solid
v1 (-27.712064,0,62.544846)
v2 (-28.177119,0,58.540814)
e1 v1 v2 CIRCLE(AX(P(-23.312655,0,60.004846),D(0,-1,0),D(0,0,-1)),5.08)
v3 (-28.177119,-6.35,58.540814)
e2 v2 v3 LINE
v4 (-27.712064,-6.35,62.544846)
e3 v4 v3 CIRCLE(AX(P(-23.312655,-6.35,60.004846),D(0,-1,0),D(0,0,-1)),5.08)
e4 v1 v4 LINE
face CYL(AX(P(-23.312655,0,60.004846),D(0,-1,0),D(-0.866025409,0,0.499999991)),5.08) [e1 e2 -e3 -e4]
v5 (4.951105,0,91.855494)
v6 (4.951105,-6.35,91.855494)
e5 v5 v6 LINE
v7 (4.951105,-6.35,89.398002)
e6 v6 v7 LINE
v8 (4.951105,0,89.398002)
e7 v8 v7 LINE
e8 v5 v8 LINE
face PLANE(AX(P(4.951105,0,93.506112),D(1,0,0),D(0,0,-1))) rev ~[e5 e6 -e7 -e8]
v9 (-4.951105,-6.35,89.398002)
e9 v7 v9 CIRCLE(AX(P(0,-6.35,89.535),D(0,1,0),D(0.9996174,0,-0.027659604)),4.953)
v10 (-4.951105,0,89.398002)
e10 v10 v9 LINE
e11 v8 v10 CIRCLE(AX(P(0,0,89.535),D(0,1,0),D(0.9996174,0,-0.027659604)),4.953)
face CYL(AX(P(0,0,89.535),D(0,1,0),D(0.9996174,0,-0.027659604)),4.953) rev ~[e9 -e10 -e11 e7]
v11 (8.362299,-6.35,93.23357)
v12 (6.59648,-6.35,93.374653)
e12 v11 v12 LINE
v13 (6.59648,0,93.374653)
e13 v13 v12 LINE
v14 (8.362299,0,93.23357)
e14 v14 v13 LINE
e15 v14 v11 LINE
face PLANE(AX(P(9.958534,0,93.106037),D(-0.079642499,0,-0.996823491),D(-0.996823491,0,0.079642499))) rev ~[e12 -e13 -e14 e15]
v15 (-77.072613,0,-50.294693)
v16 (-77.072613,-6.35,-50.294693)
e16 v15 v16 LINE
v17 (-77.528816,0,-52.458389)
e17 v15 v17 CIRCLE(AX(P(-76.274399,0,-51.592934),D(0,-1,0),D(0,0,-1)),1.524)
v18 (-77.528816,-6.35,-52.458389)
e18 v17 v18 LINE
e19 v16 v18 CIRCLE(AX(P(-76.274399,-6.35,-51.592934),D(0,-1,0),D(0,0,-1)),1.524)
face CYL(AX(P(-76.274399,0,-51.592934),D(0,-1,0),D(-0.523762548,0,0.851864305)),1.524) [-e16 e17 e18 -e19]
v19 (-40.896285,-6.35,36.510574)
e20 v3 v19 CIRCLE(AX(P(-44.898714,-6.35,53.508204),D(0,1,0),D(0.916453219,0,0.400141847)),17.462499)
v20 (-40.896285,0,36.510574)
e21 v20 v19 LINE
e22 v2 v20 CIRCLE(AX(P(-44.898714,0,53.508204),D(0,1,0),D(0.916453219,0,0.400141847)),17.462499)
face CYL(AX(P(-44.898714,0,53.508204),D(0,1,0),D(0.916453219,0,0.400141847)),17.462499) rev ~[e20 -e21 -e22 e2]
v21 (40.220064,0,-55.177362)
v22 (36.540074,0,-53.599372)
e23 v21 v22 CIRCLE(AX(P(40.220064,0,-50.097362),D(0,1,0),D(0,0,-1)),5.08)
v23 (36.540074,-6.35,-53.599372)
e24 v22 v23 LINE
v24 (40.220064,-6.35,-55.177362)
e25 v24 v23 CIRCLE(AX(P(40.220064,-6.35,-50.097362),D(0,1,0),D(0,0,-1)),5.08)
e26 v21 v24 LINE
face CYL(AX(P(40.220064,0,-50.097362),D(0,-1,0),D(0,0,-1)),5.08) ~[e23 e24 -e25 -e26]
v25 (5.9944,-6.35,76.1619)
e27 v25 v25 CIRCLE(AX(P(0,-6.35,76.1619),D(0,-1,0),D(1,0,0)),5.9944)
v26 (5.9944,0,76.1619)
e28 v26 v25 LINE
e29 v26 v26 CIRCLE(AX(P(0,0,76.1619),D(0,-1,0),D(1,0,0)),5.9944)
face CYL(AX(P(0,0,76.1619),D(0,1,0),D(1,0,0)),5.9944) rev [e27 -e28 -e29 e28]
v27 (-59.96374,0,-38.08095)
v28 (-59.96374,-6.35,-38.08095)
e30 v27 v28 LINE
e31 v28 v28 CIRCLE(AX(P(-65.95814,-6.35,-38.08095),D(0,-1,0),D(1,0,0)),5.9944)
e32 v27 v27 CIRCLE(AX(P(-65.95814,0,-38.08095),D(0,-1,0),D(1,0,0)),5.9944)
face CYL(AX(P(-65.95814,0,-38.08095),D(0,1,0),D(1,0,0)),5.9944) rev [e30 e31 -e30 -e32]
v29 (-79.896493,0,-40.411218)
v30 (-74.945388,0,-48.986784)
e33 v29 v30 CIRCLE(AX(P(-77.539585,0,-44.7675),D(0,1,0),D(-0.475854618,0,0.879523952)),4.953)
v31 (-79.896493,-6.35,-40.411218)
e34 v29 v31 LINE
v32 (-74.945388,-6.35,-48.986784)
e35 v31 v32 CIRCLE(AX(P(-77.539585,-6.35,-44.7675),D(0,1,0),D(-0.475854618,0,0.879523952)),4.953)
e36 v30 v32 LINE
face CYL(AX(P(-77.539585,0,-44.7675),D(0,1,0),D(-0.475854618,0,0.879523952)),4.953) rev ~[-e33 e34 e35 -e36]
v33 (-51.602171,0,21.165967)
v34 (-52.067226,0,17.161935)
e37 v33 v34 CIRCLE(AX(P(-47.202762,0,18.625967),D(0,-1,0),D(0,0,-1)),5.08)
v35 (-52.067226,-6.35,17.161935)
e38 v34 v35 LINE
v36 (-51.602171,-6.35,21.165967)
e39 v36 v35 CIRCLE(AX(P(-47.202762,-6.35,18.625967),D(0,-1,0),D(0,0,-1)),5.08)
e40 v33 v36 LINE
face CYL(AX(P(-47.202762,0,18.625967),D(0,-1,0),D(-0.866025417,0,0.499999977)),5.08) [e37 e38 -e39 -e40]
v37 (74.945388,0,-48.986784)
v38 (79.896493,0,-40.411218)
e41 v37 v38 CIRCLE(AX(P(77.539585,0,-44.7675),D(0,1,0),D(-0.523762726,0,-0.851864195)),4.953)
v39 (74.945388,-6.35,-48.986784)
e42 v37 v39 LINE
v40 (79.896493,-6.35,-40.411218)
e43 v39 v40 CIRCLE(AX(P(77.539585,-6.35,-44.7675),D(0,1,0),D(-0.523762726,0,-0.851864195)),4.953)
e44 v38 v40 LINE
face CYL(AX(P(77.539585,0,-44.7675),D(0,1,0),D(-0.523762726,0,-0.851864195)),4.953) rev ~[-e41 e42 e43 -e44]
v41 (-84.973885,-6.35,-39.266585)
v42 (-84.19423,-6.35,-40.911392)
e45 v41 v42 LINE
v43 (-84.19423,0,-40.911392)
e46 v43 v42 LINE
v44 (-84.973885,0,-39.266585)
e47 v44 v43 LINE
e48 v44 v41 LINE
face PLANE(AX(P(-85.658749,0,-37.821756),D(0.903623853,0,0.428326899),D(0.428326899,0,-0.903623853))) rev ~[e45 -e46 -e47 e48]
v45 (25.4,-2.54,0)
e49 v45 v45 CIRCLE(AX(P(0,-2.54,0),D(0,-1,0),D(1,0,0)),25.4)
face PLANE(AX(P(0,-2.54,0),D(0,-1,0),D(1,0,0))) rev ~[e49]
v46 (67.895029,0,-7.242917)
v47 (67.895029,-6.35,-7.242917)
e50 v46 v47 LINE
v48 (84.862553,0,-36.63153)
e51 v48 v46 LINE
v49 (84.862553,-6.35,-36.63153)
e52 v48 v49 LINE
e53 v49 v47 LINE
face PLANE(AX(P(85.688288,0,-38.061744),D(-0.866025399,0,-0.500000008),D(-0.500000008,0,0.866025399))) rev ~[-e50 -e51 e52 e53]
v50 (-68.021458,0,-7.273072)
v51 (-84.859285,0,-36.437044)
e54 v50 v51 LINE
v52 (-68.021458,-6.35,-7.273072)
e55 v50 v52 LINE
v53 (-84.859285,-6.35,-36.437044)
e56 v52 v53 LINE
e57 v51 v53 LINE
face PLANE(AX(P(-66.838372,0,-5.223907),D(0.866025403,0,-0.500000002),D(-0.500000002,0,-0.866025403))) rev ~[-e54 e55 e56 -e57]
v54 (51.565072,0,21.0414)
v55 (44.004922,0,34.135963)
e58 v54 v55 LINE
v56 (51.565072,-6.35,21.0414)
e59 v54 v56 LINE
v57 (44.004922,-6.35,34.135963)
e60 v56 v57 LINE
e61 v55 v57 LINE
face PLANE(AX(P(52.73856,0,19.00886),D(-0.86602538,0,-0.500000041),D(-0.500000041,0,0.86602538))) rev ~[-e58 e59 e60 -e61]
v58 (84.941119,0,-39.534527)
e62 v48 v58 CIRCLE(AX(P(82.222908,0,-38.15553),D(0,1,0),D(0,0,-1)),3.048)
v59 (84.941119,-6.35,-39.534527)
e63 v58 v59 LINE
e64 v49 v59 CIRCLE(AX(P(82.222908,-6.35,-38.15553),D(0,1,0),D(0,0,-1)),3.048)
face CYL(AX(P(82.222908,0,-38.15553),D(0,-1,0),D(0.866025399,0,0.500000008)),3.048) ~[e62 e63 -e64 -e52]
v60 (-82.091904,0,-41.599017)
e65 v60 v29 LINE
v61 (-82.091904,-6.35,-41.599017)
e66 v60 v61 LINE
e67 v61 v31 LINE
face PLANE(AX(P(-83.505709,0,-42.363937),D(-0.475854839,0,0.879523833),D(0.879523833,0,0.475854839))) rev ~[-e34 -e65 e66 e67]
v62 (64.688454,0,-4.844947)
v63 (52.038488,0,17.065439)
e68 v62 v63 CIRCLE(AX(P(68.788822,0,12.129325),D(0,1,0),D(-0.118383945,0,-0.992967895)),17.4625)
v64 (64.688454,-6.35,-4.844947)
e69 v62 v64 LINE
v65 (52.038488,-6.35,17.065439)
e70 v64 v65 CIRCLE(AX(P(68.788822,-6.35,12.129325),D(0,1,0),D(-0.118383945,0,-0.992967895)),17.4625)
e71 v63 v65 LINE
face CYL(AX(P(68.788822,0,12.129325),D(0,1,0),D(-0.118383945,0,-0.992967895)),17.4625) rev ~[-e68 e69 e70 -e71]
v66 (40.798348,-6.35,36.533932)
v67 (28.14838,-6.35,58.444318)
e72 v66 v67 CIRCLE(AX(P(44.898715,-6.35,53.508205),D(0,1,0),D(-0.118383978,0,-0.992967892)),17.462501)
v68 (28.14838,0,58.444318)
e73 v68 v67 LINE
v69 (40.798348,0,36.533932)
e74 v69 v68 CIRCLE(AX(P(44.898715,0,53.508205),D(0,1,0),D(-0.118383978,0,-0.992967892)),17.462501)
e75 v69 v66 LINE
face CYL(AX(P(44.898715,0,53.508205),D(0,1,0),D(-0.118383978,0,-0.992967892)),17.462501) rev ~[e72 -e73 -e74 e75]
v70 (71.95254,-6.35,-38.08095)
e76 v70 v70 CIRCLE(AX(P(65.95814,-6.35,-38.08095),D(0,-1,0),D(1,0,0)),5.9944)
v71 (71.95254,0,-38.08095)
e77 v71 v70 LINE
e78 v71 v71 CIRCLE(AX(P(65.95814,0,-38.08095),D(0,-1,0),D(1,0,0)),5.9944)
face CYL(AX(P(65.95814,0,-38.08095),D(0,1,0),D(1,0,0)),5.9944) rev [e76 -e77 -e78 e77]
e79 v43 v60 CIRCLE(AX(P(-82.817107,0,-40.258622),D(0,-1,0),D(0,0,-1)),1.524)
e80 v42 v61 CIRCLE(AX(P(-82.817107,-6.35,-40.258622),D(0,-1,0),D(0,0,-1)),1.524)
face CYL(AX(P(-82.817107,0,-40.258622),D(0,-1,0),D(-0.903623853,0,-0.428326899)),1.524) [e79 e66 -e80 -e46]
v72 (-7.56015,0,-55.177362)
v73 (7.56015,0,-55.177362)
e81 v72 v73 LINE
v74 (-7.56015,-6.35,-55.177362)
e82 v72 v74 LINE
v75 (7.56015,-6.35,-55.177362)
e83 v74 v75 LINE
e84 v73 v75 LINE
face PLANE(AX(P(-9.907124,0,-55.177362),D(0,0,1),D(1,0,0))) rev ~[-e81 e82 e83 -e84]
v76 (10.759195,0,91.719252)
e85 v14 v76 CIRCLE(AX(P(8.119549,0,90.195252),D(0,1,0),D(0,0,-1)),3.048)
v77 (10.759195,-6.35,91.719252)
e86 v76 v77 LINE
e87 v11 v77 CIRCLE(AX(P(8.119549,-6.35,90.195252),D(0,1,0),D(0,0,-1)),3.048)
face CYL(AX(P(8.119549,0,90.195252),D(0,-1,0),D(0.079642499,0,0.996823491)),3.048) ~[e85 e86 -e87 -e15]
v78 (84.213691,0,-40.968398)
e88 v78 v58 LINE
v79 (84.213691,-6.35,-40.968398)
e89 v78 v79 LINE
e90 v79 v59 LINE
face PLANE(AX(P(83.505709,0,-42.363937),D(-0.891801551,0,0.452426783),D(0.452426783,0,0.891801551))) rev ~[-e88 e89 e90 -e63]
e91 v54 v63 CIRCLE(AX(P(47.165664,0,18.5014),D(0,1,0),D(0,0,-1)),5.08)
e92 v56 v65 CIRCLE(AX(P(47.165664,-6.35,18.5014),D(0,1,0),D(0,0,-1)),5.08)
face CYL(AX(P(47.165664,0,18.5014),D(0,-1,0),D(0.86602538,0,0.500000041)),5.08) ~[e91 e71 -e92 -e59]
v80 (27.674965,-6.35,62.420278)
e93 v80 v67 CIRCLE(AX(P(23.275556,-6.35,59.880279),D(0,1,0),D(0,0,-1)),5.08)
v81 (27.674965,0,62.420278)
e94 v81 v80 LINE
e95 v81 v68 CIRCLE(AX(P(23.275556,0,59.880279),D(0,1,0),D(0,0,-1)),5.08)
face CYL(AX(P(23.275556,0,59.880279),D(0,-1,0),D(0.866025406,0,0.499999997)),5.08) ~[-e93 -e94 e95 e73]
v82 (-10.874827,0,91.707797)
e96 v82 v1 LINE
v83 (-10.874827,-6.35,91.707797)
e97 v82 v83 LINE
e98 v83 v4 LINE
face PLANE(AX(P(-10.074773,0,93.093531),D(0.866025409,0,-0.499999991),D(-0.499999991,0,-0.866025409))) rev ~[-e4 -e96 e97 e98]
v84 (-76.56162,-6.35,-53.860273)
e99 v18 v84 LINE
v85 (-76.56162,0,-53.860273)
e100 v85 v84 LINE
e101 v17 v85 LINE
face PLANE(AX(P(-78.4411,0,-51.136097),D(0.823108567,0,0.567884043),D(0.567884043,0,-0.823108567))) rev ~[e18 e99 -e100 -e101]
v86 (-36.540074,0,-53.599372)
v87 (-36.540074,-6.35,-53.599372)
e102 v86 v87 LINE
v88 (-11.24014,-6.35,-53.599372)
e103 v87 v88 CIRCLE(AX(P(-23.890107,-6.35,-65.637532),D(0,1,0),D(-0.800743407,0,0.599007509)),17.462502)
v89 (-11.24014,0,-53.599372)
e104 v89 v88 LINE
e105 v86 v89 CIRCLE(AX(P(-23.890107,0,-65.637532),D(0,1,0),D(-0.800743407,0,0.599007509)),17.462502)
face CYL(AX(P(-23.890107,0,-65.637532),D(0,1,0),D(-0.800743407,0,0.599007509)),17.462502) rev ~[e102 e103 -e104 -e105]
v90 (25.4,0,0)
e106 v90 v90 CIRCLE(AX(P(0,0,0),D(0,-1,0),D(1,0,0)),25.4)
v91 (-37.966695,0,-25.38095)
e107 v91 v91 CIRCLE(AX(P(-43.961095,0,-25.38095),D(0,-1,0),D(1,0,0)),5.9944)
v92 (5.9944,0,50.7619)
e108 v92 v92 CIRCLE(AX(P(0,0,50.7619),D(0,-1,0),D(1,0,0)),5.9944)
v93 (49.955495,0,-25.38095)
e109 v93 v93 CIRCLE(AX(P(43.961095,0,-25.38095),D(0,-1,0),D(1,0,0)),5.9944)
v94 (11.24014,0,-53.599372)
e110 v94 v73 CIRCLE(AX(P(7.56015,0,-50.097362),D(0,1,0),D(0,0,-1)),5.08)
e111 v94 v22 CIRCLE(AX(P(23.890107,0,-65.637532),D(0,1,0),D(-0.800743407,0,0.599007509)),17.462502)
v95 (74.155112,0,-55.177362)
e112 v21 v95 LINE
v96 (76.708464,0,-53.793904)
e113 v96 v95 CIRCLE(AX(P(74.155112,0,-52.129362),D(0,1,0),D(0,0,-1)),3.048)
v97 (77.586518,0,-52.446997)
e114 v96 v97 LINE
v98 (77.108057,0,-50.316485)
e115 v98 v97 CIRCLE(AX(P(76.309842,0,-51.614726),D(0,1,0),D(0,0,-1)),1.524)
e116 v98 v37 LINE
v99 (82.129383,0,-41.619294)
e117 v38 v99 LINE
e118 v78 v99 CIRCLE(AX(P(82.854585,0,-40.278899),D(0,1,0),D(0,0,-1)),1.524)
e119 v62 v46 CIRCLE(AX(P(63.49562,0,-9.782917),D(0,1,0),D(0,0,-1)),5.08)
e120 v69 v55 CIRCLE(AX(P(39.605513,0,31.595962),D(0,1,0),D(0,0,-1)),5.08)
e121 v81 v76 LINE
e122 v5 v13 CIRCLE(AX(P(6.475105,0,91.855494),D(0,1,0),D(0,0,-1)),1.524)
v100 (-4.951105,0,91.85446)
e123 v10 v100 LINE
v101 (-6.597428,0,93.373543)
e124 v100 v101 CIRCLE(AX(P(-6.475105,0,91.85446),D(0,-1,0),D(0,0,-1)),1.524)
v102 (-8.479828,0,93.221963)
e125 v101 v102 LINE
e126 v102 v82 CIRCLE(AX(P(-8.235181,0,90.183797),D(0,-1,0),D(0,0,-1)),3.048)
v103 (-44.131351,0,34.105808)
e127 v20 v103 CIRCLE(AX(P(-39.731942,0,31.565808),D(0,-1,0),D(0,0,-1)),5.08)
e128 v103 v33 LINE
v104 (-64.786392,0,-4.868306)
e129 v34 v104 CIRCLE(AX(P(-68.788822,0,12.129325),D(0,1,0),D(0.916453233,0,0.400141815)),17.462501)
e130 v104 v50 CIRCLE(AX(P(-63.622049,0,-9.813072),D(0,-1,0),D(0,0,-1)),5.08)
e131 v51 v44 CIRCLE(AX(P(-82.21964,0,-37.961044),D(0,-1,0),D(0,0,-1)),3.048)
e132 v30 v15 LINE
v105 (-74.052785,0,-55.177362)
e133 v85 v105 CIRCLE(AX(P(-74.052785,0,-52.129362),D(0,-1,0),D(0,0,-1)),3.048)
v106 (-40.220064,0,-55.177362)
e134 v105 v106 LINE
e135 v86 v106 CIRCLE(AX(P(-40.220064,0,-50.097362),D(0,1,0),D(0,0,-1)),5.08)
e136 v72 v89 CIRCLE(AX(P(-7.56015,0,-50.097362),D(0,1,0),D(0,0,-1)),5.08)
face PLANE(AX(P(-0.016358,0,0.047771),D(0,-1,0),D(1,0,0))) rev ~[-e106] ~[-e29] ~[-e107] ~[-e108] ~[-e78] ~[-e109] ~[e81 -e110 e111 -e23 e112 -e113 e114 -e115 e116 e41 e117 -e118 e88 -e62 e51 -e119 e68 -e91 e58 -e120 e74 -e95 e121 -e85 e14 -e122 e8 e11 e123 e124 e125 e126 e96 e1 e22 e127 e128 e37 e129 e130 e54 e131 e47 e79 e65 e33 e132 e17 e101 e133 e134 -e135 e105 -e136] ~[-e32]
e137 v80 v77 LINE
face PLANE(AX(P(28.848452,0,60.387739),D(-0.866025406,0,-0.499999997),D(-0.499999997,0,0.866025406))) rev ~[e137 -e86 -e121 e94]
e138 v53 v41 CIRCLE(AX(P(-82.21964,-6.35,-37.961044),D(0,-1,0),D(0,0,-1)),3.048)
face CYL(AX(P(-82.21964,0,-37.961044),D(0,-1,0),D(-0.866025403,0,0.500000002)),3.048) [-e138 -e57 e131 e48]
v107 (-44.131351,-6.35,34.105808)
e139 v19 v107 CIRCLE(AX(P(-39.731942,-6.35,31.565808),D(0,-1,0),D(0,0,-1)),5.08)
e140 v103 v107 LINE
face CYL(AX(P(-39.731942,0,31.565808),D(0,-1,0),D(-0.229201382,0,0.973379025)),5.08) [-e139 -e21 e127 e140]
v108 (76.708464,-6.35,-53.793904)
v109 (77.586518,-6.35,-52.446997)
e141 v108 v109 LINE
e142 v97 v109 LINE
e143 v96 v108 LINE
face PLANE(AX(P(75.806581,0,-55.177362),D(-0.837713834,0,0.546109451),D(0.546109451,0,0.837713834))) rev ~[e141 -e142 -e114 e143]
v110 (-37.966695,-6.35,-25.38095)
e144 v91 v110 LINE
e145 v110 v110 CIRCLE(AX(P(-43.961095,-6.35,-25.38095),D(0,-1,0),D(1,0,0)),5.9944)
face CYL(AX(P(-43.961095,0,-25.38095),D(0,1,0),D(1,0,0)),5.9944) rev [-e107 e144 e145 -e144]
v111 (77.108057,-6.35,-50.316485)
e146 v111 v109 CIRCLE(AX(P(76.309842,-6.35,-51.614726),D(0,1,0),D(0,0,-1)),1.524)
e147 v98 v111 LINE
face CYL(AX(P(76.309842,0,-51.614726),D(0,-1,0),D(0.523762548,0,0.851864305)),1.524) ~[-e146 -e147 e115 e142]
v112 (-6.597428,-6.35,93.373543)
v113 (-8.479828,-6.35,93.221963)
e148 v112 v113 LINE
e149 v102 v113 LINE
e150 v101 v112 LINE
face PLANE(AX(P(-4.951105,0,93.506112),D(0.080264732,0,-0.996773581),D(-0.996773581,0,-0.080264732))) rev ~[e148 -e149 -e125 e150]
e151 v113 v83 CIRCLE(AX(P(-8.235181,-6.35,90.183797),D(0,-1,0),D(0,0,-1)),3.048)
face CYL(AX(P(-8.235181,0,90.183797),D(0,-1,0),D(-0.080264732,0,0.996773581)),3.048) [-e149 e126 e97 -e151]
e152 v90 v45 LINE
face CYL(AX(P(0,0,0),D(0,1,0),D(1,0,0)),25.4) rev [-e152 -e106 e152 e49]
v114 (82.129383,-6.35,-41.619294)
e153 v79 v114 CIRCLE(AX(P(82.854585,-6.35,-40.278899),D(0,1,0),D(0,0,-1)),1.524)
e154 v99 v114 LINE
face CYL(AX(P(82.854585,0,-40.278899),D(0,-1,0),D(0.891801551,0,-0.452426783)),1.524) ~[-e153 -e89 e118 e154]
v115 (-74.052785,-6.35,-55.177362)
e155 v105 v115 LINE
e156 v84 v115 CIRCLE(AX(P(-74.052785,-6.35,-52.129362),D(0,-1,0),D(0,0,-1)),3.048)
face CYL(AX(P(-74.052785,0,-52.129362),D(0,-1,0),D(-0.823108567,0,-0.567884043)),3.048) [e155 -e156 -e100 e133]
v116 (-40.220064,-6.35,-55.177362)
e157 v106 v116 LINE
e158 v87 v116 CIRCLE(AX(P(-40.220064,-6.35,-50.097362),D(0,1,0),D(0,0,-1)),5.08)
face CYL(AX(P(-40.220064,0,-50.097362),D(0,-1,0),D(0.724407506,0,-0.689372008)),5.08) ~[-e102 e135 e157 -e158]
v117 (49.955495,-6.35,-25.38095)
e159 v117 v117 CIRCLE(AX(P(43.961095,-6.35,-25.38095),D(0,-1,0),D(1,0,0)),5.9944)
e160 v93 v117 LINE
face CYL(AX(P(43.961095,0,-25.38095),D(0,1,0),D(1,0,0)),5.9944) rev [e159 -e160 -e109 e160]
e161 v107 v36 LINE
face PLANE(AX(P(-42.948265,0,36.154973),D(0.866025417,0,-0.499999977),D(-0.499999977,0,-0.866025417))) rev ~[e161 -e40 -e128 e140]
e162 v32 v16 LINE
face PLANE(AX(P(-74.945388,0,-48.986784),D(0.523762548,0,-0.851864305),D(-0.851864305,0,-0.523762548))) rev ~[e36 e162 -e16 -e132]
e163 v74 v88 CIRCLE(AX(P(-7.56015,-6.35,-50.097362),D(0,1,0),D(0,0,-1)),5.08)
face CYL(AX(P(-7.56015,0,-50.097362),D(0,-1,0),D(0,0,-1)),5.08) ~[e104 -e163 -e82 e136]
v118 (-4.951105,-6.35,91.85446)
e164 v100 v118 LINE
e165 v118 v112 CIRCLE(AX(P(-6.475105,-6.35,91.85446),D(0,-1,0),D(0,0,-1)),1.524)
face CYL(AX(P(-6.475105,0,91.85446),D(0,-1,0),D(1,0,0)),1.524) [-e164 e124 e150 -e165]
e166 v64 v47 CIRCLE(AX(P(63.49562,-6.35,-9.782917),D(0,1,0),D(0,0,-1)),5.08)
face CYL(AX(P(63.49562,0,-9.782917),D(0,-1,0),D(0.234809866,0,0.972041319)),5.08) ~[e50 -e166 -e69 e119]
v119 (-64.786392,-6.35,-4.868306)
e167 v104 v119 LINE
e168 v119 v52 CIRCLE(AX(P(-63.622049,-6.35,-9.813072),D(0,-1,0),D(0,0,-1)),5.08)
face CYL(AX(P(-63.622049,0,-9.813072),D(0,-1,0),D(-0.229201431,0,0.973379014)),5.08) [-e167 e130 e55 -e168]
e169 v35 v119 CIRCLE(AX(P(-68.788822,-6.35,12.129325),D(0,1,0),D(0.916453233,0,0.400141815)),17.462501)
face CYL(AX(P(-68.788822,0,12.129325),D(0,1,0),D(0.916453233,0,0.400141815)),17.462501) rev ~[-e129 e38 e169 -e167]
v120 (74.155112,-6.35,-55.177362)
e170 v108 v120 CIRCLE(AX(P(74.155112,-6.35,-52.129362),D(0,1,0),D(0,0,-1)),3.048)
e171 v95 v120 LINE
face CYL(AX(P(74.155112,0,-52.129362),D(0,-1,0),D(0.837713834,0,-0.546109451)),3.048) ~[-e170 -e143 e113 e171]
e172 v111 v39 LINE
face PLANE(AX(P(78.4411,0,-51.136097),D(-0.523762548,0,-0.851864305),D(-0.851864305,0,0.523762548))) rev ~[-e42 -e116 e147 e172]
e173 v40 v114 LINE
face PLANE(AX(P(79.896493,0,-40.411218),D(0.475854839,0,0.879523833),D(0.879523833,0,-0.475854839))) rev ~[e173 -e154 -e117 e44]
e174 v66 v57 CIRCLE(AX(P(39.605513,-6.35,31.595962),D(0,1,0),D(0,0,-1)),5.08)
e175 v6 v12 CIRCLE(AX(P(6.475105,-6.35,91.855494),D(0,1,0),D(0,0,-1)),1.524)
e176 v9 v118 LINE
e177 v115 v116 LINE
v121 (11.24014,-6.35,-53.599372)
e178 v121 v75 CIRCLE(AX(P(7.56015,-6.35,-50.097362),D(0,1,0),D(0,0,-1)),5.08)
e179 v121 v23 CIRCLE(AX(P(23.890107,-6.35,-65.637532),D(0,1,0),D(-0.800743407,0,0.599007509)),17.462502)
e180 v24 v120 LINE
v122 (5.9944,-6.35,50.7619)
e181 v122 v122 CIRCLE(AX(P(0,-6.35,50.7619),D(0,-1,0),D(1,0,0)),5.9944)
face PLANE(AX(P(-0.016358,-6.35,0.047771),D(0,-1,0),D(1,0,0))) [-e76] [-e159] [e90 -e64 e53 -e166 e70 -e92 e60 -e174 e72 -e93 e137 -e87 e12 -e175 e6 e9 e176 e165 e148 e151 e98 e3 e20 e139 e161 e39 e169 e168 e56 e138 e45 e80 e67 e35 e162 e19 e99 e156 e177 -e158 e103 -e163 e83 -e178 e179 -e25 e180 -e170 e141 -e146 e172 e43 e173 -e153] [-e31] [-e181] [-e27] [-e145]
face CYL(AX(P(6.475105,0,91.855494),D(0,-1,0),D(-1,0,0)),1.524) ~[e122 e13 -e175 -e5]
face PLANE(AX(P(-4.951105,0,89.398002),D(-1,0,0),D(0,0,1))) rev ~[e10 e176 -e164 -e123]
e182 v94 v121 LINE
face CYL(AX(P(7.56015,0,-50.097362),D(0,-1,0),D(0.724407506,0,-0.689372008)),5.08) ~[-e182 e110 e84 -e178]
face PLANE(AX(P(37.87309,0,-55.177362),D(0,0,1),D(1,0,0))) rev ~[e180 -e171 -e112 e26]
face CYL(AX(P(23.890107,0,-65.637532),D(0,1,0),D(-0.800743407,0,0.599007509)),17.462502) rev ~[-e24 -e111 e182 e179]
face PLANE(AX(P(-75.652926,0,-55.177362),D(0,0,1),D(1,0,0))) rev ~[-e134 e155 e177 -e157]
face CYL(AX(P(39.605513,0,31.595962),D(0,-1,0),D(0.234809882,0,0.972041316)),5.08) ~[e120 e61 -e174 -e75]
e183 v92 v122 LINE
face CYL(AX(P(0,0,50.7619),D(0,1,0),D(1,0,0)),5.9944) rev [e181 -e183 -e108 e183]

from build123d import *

# Parameters (mm, degrees)
F0_R     = 5.9944
F0_R_2   = 25.4
F1_DEPTH = 6.35
F2_DEPTH = 2.54
F3_R     = 1.524
F4_R     = 3.048
F5_R     = 5.08


with BuildPart() as f1:
    # F0 (on Front) → F1 (new body)
    with BuildSketch(Plane.XZ):
        with BuildLine():
            ThreePointArc((4.951105, 89.398002), (0, 84.582), (-4.951105, 89.398002))
            Line((-4.951105, 89.398002), (-4.951105, 93.506112))
            Line((-4.951105, 93.506112), (-10.074773, 93.093531))
            Line((-10.074773, 93.093531), (-28.89515, 60.495681))
            ThreePointArc((-28.89515, 60.495681), (-29.775746, 44.776954), (-42.948265, 36.154973))
            Line((-42.948265, 36.154973), (-52.785257, 19.116802))
            ThreePointArc((-52.785257, 19.116802), (-53.665853, 3.398075), (-66.838372, -5.223907))
            Line((-66.838372, -5.223907), (-85.658749, -37.821756))
            Line((-85.658749, -37.821756), (-83.505709, -42.363937))
            Line((-83.505709, -42.363937), (-79.896493, -40.411218))
            ThreePointArc((-79.896493, -40.411218), (-73.250161, -42.291), (-74.945388, -48.986784))
            Line((-74.945388, -48.986784), (-78.4411, -51.136097))
            Line((-78.4411, -51.136097), (-75.652926, -55.177362))
            Line((-75.652926, -55.177362), (-37.87309, -55.177362))
            ThreePointArc((-37.87309, -55.177362), (-23.890107, -48.17503), (-9.907124, -55.177362))
            Line((-9.907124, -55.177362), (9.907124, -55.177362))
            ThreePointArc((9.907124, -55.177362), (23.890107, -48.17503), (37.87309, -55.177362))
            Line((37.87309, -55.177362), (75.806581, -55.177362))
            Line((75.806581, -55.177362), (78.4411, -51.136097))
            Line((78.4411, -51.136097), (74.945388, -48.986784))
            ThreePointArc((74.945388, -48.986784), (73.250161, -42.291), (79.896493, -40.411218))
            Line((79.896493, -40.411218), (83.505709, -42.363937))
            Line((83.505709, -42.363937), (85.688288, -38.061744))
            Line((85.688288, -38.061744), (66.721542, -5.210377))
            ThreePointArc((66.721542, -5.210377), (53.665853, 3.398075), (52.73856, 19.00886))
            Line((52.73856, 19.00886), (42.831435, 36.168502))
            ThreePointArc((42.831435, 36.168502), (29.775746, 44.776954), (28.848452, 60.387739))
            Line((28.848452, 60.387739), (9.958534, 93.106037))
            Line((9.958534, 93.106037), (4.951105, 93.506112))
            Line((4.951105, 93.506112), (4.951105, 89.398002))
        make_face()
        with Locations((-65.95814, -38.08095)):
            Circle(F0_R, mode=Mode.SUBTRACT)
        with Locations((-43.961095, -25.38095)):
            Circle(F0_R, mode=Mode.SUBTRACT)
        Circle(F0_R_2, mode=Mode.SUBTRACT)
        with Locations((65.95814, -38.08095)):
            Circle(F0_R, mode=Mode.SUBTRACT)
        with Locations((43.961095, -25.38095)):
            Circle(F0_R, mode=Mode.SUBTRACT)
        with Locations((0, 50.7619)):
            Circle(F0_R, mode=Mode.SUBTRACT)
        with Locations((0, 76.1619)):
            Circle(F0_R, mode=Mode.SUBTRACT)
        Circle(F0_R_2)
    extrude(amount=F1_DEPTH)

    # F0 (on Front) → F2 (cut)
    with BuildSketch(Plane.XZ):
        Circle(F0_R_2)
    extrude(amount=F2_DEPTH, mode=Mode.SUBTRACT)

    # F3
    f3_edges = [f1.edges().sort_by_distance(p)[0] for p in [
        (83.505709, -3.175, -42.363937),
        (78.4411, -3.175, -51.136097),
        (4.951105, -3.175, 93.506112),
        (-4.951105, -3.175, 93.506112),
        (-83.505709, -3.175, -42.363937),
        (-78.4411, -3.175, -51.136097),
    ]]
    fillet(f3_edges, radius=F3_R)

    # F4
    f4_edges = [f1.edges().sort_by_distance(p)[0] for p in [
        (-85.658749, -3.175, -37.821756),
        (-75.652926, -3.175, -55.177362),
        (75.806581, -3.175, -55.177362),
        (85.688288, -3.175, -38.061744),
        (9.958534, -3.175, 93.106037),
        (-10.074773, -3.175, 93.093531),
    ]]
    fillet(f4_edges, radius=F4_R)

    # F5
    f5_edges = [f1.edges().sort_by_distance(p)[0] for p in [
        (28.848452, -3.175, 60.387739),
        (42.831435, -3.175, 36.168502),
        (52.73856, -3.175, 19.00886),
        (66.721542, -3.175, -5.210377),
        (37.87309, -3.175, -55.177362),
        (9.907124, -3.175, -55.177362),
        (-9.907124, -3.175, -55.177362),
        (-37.87309, -3.175, -55.177362),
        (-66.838372, -3.175, -5.223907),
        (-52.785257, -3.175, 19.116802),
        (-42.948265, -3.175, 36.154973),
        (-28.89515, -3.175, 60.495681),
    ]]
    fillet(f5_edges, radius=F5_R)


solid = f1.part
